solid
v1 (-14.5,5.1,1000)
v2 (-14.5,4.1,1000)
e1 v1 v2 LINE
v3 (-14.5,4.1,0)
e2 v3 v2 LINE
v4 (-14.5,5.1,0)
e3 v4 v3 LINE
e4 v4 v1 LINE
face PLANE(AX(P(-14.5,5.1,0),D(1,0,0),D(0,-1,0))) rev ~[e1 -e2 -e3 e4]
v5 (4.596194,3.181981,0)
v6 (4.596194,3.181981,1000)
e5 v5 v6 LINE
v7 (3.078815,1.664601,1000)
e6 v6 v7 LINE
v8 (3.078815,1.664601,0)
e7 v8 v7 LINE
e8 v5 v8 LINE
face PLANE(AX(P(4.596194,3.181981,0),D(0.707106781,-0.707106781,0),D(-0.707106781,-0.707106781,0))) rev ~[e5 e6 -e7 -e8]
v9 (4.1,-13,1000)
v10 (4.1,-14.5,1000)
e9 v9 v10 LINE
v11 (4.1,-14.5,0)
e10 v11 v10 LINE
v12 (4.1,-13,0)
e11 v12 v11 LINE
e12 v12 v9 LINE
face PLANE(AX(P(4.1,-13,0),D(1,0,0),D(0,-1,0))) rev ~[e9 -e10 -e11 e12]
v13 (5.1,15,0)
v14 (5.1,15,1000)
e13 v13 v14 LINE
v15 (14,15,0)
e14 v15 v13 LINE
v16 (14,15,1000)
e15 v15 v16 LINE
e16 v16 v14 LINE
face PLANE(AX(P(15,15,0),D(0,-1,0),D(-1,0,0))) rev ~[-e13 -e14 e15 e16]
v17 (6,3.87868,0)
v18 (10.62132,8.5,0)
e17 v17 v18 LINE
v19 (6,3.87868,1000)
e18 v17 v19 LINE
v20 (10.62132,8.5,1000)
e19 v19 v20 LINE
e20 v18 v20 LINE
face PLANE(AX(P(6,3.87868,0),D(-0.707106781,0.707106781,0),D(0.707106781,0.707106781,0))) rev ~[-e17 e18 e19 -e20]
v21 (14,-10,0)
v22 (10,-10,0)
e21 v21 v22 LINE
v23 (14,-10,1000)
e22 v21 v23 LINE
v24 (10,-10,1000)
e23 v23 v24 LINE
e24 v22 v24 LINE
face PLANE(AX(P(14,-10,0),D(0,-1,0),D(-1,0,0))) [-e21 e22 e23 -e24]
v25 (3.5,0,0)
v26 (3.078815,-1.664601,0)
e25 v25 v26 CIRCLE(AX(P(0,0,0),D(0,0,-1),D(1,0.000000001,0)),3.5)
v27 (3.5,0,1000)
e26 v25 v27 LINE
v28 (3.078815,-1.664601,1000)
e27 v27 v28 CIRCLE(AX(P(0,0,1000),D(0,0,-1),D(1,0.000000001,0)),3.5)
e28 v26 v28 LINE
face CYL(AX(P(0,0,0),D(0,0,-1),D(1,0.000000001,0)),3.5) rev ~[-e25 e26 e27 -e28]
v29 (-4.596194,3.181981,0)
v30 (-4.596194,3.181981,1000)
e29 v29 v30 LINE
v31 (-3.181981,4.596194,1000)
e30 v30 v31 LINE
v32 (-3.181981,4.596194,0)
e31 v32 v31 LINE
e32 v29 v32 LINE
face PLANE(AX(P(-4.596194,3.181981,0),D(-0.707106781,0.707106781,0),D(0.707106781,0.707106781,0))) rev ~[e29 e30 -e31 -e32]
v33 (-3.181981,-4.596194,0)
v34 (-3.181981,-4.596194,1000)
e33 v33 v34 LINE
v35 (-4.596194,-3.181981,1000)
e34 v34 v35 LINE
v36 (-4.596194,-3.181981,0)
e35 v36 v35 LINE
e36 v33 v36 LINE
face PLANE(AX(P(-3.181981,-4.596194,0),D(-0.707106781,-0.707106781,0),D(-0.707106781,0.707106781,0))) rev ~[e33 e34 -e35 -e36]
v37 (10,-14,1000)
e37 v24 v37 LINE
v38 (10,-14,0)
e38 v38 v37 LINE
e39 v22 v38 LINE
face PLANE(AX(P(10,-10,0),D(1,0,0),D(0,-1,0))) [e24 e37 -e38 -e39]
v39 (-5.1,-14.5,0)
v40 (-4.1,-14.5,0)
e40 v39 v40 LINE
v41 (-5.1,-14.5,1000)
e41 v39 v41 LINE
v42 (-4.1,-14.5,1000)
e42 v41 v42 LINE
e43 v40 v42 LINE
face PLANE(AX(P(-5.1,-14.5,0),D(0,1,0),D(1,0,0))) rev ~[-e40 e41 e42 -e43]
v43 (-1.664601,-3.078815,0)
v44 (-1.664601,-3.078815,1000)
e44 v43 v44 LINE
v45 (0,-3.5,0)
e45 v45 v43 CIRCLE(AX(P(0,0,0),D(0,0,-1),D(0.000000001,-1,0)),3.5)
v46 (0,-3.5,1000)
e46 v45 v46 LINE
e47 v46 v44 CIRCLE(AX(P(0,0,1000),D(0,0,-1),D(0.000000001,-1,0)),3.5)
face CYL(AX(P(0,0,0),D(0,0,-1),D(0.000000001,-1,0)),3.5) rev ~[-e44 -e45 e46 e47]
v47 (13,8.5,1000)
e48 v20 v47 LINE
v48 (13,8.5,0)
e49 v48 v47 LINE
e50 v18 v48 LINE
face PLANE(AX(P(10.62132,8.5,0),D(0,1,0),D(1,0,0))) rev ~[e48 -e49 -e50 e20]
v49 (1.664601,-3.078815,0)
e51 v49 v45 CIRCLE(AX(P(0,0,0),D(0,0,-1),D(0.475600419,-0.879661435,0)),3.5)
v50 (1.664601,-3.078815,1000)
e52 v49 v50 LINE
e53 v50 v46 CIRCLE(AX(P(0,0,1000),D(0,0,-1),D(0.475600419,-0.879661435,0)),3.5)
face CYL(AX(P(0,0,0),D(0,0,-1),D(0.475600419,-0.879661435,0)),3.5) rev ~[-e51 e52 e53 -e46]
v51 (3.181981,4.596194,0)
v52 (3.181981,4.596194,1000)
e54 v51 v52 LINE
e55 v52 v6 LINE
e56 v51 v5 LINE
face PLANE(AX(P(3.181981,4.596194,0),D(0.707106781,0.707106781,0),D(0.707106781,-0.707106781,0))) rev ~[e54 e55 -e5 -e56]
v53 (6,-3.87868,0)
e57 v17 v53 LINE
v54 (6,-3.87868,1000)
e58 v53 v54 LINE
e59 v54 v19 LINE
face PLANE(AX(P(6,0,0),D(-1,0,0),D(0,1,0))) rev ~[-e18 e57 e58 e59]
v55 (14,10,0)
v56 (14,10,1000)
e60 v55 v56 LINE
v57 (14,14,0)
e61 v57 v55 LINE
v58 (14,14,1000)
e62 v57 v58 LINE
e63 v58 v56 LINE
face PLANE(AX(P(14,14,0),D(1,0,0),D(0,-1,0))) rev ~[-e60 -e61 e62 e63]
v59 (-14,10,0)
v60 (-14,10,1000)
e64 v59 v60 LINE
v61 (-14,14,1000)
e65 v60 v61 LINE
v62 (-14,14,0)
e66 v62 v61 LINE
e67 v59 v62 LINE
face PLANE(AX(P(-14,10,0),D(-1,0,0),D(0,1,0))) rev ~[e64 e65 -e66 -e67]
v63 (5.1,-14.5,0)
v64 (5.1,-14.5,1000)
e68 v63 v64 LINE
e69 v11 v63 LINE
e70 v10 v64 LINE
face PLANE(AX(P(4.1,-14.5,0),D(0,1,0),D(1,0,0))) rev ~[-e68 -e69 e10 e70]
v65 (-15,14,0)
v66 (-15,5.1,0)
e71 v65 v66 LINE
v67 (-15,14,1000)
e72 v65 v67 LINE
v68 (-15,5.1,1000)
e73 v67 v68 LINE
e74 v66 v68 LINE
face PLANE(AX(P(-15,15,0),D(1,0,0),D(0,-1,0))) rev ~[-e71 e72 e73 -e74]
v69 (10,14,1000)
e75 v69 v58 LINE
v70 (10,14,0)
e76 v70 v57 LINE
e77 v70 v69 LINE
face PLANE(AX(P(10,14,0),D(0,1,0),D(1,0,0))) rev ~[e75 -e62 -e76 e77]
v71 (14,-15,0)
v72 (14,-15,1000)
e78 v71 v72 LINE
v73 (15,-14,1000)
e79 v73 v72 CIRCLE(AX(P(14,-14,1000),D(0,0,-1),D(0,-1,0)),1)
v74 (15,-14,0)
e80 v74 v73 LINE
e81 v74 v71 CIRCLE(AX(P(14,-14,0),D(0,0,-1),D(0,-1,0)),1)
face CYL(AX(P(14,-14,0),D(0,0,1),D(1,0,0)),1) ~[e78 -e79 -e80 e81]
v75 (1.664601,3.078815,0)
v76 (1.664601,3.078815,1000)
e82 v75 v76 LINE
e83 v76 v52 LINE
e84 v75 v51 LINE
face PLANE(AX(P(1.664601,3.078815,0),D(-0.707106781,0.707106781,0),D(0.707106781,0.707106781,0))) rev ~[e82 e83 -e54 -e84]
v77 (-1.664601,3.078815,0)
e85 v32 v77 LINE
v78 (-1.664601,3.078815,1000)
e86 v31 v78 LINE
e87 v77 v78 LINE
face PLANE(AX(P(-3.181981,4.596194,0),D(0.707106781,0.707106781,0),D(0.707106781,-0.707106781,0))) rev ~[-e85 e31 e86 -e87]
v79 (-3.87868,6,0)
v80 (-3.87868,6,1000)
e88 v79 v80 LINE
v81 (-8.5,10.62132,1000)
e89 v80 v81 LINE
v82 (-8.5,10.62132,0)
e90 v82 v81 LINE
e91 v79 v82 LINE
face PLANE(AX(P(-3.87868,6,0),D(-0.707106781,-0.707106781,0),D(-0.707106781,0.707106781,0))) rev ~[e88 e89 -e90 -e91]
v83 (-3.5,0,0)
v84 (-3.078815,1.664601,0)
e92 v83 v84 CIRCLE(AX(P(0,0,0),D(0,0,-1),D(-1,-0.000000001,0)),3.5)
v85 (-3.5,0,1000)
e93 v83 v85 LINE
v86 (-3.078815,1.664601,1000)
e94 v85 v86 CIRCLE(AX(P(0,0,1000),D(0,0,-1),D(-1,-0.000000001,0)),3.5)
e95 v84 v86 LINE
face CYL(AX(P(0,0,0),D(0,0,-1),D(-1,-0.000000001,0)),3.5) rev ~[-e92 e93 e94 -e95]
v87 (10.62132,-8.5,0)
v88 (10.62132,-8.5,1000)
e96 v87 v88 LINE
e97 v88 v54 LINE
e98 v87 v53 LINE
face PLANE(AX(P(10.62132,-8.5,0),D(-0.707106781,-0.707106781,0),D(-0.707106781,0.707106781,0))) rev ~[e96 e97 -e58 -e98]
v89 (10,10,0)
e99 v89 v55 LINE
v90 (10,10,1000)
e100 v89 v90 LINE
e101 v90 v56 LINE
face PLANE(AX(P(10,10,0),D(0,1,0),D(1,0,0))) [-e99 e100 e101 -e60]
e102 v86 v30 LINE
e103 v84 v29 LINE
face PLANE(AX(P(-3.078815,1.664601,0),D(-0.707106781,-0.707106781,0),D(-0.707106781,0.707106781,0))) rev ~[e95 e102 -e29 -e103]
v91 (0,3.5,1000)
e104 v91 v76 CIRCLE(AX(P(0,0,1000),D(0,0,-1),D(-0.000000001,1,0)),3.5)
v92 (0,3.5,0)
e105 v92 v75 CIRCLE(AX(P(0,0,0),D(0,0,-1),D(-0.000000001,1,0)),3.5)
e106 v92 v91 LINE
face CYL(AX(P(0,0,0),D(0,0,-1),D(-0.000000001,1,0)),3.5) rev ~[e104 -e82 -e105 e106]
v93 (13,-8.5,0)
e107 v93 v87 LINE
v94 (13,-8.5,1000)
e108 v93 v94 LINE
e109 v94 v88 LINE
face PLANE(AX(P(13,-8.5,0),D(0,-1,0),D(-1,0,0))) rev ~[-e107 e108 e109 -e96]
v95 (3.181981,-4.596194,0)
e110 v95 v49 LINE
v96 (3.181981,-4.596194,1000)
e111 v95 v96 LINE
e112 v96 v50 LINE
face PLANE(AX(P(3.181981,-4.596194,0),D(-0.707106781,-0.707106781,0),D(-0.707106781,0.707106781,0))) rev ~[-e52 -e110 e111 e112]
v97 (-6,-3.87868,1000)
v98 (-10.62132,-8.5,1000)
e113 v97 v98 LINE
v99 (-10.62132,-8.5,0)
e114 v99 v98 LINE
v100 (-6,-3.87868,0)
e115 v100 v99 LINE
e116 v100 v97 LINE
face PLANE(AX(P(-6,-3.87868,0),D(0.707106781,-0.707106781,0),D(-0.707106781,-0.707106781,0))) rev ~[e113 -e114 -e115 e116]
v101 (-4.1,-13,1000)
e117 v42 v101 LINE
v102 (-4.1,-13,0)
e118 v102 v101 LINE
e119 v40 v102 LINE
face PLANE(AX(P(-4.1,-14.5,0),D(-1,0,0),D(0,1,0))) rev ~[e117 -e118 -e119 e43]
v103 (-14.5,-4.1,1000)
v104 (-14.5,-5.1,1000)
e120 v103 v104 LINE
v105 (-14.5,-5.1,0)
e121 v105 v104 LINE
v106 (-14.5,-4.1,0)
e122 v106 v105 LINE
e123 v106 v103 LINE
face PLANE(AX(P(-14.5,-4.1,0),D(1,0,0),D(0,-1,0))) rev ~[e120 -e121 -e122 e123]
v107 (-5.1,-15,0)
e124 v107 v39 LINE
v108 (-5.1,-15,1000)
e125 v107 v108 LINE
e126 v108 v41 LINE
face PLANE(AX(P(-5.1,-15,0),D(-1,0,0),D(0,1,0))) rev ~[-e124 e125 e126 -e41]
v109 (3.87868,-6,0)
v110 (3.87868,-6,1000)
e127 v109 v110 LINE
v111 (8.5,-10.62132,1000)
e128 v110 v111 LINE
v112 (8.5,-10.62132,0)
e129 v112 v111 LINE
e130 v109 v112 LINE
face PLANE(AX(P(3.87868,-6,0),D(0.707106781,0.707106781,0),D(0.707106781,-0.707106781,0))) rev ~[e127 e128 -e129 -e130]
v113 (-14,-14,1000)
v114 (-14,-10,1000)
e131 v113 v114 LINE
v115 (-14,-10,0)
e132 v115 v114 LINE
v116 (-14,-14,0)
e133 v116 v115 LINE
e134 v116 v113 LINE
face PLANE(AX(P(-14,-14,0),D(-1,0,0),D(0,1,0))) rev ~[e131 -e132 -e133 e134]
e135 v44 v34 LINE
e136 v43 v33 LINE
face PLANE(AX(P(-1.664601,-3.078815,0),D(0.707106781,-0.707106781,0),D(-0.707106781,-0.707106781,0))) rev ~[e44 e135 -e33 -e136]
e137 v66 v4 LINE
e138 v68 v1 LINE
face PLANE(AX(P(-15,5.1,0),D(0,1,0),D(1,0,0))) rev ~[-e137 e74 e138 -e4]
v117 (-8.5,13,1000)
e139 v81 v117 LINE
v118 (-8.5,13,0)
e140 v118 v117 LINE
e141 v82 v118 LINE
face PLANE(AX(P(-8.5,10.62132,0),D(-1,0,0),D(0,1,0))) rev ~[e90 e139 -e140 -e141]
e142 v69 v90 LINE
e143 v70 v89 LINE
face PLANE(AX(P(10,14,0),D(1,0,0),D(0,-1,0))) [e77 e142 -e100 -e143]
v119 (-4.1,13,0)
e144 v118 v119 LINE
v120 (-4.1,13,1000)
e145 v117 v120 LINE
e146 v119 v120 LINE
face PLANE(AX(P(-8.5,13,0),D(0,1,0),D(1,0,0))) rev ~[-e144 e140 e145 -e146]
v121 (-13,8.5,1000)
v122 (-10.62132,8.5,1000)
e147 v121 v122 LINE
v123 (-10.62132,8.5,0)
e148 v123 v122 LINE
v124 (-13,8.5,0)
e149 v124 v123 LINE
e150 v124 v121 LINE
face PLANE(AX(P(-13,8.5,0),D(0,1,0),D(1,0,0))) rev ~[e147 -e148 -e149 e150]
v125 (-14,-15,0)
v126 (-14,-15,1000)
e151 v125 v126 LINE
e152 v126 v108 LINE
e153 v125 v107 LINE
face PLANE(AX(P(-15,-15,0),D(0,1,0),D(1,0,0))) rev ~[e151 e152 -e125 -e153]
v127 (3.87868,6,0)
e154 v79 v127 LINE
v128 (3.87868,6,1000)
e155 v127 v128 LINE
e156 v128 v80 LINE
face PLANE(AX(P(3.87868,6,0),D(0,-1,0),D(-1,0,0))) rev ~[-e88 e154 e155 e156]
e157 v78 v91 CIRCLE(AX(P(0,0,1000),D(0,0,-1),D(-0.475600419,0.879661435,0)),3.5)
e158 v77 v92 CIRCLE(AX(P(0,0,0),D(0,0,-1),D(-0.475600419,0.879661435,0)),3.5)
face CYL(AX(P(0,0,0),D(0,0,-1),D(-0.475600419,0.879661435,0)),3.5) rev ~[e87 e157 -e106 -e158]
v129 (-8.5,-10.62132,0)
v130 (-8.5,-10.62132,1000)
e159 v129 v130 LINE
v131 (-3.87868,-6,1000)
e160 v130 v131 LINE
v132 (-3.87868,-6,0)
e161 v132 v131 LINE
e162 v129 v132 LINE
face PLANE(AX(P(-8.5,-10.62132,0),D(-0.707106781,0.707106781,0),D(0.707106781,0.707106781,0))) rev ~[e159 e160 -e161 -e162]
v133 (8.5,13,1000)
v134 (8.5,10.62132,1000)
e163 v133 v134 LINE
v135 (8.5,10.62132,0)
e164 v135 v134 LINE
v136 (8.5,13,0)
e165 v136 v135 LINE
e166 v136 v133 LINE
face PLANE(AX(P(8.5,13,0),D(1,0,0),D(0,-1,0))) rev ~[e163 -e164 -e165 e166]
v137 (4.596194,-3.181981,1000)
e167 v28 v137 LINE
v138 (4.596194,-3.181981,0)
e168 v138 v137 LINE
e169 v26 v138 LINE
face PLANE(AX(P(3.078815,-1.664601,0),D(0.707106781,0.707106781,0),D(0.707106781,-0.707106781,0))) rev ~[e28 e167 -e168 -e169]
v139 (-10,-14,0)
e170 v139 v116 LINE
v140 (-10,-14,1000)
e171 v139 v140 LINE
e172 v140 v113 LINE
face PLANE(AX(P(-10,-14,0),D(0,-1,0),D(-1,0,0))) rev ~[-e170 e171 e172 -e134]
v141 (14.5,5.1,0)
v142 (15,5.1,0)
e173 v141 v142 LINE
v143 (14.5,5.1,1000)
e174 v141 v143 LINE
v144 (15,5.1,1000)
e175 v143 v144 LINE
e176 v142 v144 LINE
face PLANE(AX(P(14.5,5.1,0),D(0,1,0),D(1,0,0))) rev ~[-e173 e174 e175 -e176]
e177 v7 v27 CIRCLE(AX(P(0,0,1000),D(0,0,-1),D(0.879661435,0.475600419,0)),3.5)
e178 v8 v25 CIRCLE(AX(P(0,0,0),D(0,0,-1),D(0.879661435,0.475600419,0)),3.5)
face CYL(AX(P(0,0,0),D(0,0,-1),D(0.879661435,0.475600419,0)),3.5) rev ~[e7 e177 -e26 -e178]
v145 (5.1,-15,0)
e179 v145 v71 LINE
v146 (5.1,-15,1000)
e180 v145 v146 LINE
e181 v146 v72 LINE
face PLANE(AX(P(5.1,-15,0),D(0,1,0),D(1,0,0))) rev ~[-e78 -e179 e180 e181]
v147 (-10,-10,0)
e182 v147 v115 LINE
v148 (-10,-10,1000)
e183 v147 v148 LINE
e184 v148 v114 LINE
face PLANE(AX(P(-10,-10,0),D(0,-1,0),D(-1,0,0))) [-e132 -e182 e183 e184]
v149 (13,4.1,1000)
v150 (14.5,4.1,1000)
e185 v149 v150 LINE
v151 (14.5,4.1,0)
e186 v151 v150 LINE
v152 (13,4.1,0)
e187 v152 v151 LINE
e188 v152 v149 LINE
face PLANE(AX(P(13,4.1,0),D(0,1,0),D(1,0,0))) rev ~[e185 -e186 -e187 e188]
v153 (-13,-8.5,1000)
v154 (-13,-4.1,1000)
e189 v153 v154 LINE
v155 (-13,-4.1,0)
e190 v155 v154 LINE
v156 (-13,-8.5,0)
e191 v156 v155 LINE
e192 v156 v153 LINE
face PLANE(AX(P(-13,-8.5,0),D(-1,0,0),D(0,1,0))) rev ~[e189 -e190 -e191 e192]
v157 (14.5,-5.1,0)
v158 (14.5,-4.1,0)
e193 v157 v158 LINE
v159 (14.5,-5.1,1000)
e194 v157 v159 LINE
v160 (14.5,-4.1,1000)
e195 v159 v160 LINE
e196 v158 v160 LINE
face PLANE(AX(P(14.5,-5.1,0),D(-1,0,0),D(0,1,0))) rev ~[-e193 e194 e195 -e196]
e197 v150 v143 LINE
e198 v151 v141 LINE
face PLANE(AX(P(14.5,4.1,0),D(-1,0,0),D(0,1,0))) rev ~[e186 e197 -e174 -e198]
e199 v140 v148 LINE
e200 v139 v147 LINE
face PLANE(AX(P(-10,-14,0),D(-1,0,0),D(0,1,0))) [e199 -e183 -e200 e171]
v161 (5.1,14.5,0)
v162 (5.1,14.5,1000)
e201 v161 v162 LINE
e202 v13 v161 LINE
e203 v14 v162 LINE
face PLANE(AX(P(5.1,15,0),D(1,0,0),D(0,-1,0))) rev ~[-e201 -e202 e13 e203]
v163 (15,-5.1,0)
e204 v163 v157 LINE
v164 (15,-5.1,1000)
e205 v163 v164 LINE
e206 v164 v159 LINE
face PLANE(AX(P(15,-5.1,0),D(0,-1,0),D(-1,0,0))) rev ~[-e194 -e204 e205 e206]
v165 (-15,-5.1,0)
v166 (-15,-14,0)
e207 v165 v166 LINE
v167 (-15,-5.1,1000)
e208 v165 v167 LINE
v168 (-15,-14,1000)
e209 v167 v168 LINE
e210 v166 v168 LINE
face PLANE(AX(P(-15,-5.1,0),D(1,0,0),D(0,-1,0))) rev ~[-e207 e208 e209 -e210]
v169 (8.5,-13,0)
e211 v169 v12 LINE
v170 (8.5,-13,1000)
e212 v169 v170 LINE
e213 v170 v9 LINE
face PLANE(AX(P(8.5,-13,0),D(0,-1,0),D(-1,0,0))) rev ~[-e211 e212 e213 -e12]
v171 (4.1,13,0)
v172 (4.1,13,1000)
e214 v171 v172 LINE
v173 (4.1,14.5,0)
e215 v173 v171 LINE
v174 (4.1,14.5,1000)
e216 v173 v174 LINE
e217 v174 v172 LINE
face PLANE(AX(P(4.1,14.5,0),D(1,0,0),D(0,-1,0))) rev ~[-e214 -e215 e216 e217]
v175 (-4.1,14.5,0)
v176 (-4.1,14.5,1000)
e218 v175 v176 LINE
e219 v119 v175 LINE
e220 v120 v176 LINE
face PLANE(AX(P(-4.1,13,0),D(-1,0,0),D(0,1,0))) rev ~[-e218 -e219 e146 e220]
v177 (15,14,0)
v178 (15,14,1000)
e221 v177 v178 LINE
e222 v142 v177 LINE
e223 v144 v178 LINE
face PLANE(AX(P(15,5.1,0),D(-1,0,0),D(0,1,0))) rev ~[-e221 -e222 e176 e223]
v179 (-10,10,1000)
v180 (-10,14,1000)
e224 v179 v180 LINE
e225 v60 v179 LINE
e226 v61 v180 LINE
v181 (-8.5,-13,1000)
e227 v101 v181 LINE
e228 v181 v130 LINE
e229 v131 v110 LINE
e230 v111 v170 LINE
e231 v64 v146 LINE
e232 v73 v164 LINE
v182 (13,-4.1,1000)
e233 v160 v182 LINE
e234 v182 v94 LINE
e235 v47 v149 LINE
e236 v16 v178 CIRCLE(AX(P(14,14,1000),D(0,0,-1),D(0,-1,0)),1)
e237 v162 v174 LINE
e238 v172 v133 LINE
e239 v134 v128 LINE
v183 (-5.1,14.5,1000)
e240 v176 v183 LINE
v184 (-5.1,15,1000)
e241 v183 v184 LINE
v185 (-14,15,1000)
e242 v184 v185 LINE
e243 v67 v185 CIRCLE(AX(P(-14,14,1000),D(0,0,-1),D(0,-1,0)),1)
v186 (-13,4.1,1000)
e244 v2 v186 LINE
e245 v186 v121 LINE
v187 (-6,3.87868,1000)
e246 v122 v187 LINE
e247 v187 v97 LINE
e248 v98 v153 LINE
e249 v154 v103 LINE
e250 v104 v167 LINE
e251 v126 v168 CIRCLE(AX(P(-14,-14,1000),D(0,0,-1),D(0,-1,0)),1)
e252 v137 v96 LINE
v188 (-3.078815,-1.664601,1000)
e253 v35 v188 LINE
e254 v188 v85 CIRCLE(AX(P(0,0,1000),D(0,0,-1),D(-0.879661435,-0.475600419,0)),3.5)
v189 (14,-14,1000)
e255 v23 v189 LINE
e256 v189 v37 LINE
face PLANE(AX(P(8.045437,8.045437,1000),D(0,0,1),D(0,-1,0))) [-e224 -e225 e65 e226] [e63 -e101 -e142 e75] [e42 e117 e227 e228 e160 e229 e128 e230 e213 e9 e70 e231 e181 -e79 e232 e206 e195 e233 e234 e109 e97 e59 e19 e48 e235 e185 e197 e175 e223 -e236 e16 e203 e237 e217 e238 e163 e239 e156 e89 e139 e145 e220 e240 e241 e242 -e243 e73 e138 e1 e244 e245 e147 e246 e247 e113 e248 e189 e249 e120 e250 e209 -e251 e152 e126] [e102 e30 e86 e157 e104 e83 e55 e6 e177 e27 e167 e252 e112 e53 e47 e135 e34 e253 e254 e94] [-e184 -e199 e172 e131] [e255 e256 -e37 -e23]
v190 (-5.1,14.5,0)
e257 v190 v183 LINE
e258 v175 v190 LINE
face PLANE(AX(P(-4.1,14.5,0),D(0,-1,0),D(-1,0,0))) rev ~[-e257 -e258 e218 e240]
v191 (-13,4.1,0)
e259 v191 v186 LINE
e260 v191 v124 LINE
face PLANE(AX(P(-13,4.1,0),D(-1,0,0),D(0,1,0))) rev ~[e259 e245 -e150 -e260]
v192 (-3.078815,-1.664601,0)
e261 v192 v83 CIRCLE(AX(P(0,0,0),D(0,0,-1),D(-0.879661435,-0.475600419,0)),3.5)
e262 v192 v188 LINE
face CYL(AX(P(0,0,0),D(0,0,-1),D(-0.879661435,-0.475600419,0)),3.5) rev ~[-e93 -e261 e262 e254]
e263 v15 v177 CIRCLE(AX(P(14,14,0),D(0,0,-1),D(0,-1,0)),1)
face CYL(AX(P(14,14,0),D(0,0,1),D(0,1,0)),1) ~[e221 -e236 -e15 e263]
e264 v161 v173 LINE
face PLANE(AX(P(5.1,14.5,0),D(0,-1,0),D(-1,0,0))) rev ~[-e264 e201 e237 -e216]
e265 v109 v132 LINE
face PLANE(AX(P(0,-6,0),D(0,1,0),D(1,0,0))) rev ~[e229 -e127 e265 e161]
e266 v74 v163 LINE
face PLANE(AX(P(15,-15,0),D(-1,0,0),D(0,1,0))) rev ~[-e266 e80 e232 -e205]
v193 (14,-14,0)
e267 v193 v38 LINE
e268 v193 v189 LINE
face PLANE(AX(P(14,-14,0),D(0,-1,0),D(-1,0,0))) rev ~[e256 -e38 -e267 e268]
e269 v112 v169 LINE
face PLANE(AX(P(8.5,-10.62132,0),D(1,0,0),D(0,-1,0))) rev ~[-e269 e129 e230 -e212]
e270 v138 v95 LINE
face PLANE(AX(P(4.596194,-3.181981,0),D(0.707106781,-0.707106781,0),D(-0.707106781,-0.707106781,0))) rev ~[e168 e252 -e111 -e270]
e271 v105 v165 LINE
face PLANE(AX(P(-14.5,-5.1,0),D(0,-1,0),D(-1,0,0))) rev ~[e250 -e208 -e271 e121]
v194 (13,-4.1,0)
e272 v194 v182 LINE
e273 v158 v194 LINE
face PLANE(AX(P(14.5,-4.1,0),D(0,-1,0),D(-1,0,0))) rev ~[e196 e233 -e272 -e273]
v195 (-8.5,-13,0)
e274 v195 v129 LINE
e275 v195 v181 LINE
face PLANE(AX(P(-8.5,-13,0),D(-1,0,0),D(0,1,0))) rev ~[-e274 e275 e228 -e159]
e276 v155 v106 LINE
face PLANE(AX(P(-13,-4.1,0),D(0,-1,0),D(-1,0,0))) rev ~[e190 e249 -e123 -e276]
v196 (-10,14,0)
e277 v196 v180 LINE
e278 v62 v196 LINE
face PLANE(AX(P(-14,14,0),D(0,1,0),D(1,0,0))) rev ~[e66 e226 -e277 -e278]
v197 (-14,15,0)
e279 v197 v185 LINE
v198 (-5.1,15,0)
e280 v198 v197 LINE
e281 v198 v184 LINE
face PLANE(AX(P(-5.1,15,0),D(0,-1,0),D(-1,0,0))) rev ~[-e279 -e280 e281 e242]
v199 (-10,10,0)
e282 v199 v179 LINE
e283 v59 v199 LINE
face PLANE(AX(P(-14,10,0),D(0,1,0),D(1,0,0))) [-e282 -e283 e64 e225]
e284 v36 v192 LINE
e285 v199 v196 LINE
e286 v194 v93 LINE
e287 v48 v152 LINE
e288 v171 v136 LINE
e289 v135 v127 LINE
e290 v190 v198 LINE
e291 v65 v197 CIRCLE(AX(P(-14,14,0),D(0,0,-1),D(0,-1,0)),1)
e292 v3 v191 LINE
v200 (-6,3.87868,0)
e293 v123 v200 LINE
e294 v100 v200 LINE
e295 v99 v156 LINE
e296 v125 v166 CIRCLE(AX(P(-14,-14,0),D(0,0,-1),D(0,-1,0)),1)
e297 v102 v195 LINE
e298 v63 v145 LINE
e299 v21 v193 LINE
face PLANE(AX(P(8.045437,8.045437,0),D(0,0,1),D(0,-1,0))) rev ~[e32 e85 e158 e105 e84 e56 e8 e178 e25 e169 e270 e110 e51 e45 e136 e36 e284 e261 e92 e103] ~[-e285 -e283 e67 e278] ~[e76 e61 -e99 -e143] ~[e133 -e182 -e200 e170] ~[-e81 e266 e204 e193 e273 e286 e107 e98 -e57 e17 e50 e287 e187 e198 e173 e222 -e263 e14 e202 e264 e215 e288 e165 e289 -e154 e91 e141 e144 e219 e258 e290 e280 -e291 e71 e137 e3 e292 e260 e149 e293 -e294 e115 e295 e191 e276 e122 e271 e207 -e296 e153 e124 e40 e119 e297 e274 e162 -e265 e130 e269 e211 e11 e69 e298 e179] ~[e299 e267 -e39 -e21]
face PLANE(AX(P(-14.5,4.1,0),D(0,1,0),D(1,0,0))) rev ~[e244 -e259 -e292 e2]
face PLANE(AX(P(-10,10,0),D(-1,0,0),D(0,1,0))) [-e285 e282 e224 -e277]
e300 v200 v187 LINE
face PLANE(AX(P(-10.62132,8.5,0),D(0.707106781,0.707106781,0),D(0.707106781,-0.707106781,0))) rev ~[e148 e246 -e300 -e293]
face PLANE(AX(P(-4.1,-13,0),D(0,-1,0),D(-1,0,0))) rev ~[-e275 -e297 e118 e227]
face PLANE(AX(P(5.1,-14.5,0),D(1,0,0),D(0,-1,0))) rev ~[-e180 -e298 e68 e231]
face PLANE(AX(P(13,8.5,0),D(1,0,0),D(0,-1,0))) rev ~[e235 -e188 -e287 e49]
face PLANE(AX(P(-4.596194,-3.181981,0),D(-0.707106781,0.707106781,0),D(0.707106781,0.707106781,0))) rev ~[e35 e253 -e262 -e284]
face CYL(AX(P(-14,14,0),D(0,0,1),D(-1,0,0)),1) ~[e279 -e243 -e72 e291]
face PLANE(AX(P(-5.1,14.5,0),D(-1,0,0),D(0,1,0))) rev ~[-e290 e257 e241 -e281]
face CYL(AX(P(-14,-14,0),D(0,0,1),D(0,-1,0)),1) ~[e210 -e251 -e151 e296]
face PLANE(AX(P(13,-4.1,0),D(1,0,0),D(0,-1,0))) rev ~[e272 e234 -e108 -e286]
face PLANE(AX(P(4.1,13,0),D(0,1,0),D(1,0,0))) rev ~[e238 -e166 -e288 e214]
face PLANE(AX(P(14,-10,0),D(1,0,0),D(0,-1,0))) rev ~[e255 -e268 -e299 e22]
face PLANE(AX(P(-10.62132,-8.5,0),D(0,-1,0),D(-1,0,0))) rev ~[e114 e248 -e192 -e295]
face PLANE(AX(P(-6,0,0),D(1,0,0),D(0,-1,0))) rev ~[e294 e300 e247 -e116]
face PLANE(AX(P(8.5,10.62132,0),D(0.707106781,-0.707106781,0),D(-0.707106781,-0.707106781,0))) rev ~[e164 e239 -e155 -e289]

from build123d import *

# Parameters (mm, degrees)
ESBO_O1_W                = 4
ESBO_O1_H                = 4
RESSALTO_EXTRUS_O1_DEPTH = 1000
PADR_OCIRCULAR1_COUNT    = 4
FILETE1_R                = 1


with BuildPart() as part:
    # Esboço1 → Ressalto-extrusão1 (new body)
    with BuildSketch(Plane.XY):
        with BuildLine():
            ThreePointArc((-1.664601464, 3.078815026), (-0.858529967, 3.393070335), (0, 3.5))
            Line((0, 3.5), (0, 6))
            Line((0, 6), (-3.878679656, 6))
            Line((-3.878679656, 6), (-8.5, 10.621320344))
            Line((-8.5, 10.621320344), (-8.5, 13))
            Line((-8.5, 13), (-4.1, 13))
            Line((-4.1, 13), (-4.1, 14.5))
            Line((-4.1, 14.5), (-5.1, 14.5))
            Line((-5.1, 14.5), (-5.1, 15))
            Line((-5.1, 15), (-15, 15))
            Line((-15, 15), (-15, 5.1))
            Line((-15, 5.1), (-14.5, 5.1))
            Line((-14.5, 5.1), (-14.5, 4.1))
            Line((-14.5, 4.1), (-13, 4.1))
            Line((-13, 4.1), (-13, 8.5))
            Line((-13, 8.5), (-10.621320344, 8.5))
            Line((-10.621320344, 8.5), (-6, 3.878679656))
            Line((-6, 3.878679656), (-6, 0))
            Line((-6, 0), (-3.5, 0))
            ThreePointArc((-3.5, 0), (-3.393070335, 0.858529967), (-3.078815026, 1.664601464))
            Line((-3.078815026, 1.664601464), (-4.596194078, 3.181980515))
            Line((-4.596194078, 3.181980515), (-3.181980515, 4.596194078))
            Line((-3.181980515, 4.596194078), (-1.664601464, 3.078815026))
        make_face()
        with Locations((-12, 12)):
            Rectangle(ESBO_O1_W, ESBO_O1_H, mode=Mode.SUBTRACT)
    ressalto_extrus_o1 = extrude(amount=RESSALTO_EXTRUS_O1_DEPTH)

    # PadrãoCircular1: Ressalto-extrusão1 ×4 about axis
    padr_ocircular1_axis = Axis((0, 0, 0), (0, 0, 1))
    for i in range(1, PADR_OCIRCULAR1_COUNT):
        add(ressalto_extrus_o1.rotate(padr_ocircular1_axis, i * 360 / PADR_OCIRCULAR1_COUNT))

    # Filete1
    filete1_edges = [part.edges().sort_by_distance(p)[0] for p in [
        (15, -15, 500),
        (15, 15, 500),
        (-15, 15, 500),
        (-15, -15, 500),
    ]]
    fillet(filete1_edges, radius=FILETE1_R)


solid = part.part
